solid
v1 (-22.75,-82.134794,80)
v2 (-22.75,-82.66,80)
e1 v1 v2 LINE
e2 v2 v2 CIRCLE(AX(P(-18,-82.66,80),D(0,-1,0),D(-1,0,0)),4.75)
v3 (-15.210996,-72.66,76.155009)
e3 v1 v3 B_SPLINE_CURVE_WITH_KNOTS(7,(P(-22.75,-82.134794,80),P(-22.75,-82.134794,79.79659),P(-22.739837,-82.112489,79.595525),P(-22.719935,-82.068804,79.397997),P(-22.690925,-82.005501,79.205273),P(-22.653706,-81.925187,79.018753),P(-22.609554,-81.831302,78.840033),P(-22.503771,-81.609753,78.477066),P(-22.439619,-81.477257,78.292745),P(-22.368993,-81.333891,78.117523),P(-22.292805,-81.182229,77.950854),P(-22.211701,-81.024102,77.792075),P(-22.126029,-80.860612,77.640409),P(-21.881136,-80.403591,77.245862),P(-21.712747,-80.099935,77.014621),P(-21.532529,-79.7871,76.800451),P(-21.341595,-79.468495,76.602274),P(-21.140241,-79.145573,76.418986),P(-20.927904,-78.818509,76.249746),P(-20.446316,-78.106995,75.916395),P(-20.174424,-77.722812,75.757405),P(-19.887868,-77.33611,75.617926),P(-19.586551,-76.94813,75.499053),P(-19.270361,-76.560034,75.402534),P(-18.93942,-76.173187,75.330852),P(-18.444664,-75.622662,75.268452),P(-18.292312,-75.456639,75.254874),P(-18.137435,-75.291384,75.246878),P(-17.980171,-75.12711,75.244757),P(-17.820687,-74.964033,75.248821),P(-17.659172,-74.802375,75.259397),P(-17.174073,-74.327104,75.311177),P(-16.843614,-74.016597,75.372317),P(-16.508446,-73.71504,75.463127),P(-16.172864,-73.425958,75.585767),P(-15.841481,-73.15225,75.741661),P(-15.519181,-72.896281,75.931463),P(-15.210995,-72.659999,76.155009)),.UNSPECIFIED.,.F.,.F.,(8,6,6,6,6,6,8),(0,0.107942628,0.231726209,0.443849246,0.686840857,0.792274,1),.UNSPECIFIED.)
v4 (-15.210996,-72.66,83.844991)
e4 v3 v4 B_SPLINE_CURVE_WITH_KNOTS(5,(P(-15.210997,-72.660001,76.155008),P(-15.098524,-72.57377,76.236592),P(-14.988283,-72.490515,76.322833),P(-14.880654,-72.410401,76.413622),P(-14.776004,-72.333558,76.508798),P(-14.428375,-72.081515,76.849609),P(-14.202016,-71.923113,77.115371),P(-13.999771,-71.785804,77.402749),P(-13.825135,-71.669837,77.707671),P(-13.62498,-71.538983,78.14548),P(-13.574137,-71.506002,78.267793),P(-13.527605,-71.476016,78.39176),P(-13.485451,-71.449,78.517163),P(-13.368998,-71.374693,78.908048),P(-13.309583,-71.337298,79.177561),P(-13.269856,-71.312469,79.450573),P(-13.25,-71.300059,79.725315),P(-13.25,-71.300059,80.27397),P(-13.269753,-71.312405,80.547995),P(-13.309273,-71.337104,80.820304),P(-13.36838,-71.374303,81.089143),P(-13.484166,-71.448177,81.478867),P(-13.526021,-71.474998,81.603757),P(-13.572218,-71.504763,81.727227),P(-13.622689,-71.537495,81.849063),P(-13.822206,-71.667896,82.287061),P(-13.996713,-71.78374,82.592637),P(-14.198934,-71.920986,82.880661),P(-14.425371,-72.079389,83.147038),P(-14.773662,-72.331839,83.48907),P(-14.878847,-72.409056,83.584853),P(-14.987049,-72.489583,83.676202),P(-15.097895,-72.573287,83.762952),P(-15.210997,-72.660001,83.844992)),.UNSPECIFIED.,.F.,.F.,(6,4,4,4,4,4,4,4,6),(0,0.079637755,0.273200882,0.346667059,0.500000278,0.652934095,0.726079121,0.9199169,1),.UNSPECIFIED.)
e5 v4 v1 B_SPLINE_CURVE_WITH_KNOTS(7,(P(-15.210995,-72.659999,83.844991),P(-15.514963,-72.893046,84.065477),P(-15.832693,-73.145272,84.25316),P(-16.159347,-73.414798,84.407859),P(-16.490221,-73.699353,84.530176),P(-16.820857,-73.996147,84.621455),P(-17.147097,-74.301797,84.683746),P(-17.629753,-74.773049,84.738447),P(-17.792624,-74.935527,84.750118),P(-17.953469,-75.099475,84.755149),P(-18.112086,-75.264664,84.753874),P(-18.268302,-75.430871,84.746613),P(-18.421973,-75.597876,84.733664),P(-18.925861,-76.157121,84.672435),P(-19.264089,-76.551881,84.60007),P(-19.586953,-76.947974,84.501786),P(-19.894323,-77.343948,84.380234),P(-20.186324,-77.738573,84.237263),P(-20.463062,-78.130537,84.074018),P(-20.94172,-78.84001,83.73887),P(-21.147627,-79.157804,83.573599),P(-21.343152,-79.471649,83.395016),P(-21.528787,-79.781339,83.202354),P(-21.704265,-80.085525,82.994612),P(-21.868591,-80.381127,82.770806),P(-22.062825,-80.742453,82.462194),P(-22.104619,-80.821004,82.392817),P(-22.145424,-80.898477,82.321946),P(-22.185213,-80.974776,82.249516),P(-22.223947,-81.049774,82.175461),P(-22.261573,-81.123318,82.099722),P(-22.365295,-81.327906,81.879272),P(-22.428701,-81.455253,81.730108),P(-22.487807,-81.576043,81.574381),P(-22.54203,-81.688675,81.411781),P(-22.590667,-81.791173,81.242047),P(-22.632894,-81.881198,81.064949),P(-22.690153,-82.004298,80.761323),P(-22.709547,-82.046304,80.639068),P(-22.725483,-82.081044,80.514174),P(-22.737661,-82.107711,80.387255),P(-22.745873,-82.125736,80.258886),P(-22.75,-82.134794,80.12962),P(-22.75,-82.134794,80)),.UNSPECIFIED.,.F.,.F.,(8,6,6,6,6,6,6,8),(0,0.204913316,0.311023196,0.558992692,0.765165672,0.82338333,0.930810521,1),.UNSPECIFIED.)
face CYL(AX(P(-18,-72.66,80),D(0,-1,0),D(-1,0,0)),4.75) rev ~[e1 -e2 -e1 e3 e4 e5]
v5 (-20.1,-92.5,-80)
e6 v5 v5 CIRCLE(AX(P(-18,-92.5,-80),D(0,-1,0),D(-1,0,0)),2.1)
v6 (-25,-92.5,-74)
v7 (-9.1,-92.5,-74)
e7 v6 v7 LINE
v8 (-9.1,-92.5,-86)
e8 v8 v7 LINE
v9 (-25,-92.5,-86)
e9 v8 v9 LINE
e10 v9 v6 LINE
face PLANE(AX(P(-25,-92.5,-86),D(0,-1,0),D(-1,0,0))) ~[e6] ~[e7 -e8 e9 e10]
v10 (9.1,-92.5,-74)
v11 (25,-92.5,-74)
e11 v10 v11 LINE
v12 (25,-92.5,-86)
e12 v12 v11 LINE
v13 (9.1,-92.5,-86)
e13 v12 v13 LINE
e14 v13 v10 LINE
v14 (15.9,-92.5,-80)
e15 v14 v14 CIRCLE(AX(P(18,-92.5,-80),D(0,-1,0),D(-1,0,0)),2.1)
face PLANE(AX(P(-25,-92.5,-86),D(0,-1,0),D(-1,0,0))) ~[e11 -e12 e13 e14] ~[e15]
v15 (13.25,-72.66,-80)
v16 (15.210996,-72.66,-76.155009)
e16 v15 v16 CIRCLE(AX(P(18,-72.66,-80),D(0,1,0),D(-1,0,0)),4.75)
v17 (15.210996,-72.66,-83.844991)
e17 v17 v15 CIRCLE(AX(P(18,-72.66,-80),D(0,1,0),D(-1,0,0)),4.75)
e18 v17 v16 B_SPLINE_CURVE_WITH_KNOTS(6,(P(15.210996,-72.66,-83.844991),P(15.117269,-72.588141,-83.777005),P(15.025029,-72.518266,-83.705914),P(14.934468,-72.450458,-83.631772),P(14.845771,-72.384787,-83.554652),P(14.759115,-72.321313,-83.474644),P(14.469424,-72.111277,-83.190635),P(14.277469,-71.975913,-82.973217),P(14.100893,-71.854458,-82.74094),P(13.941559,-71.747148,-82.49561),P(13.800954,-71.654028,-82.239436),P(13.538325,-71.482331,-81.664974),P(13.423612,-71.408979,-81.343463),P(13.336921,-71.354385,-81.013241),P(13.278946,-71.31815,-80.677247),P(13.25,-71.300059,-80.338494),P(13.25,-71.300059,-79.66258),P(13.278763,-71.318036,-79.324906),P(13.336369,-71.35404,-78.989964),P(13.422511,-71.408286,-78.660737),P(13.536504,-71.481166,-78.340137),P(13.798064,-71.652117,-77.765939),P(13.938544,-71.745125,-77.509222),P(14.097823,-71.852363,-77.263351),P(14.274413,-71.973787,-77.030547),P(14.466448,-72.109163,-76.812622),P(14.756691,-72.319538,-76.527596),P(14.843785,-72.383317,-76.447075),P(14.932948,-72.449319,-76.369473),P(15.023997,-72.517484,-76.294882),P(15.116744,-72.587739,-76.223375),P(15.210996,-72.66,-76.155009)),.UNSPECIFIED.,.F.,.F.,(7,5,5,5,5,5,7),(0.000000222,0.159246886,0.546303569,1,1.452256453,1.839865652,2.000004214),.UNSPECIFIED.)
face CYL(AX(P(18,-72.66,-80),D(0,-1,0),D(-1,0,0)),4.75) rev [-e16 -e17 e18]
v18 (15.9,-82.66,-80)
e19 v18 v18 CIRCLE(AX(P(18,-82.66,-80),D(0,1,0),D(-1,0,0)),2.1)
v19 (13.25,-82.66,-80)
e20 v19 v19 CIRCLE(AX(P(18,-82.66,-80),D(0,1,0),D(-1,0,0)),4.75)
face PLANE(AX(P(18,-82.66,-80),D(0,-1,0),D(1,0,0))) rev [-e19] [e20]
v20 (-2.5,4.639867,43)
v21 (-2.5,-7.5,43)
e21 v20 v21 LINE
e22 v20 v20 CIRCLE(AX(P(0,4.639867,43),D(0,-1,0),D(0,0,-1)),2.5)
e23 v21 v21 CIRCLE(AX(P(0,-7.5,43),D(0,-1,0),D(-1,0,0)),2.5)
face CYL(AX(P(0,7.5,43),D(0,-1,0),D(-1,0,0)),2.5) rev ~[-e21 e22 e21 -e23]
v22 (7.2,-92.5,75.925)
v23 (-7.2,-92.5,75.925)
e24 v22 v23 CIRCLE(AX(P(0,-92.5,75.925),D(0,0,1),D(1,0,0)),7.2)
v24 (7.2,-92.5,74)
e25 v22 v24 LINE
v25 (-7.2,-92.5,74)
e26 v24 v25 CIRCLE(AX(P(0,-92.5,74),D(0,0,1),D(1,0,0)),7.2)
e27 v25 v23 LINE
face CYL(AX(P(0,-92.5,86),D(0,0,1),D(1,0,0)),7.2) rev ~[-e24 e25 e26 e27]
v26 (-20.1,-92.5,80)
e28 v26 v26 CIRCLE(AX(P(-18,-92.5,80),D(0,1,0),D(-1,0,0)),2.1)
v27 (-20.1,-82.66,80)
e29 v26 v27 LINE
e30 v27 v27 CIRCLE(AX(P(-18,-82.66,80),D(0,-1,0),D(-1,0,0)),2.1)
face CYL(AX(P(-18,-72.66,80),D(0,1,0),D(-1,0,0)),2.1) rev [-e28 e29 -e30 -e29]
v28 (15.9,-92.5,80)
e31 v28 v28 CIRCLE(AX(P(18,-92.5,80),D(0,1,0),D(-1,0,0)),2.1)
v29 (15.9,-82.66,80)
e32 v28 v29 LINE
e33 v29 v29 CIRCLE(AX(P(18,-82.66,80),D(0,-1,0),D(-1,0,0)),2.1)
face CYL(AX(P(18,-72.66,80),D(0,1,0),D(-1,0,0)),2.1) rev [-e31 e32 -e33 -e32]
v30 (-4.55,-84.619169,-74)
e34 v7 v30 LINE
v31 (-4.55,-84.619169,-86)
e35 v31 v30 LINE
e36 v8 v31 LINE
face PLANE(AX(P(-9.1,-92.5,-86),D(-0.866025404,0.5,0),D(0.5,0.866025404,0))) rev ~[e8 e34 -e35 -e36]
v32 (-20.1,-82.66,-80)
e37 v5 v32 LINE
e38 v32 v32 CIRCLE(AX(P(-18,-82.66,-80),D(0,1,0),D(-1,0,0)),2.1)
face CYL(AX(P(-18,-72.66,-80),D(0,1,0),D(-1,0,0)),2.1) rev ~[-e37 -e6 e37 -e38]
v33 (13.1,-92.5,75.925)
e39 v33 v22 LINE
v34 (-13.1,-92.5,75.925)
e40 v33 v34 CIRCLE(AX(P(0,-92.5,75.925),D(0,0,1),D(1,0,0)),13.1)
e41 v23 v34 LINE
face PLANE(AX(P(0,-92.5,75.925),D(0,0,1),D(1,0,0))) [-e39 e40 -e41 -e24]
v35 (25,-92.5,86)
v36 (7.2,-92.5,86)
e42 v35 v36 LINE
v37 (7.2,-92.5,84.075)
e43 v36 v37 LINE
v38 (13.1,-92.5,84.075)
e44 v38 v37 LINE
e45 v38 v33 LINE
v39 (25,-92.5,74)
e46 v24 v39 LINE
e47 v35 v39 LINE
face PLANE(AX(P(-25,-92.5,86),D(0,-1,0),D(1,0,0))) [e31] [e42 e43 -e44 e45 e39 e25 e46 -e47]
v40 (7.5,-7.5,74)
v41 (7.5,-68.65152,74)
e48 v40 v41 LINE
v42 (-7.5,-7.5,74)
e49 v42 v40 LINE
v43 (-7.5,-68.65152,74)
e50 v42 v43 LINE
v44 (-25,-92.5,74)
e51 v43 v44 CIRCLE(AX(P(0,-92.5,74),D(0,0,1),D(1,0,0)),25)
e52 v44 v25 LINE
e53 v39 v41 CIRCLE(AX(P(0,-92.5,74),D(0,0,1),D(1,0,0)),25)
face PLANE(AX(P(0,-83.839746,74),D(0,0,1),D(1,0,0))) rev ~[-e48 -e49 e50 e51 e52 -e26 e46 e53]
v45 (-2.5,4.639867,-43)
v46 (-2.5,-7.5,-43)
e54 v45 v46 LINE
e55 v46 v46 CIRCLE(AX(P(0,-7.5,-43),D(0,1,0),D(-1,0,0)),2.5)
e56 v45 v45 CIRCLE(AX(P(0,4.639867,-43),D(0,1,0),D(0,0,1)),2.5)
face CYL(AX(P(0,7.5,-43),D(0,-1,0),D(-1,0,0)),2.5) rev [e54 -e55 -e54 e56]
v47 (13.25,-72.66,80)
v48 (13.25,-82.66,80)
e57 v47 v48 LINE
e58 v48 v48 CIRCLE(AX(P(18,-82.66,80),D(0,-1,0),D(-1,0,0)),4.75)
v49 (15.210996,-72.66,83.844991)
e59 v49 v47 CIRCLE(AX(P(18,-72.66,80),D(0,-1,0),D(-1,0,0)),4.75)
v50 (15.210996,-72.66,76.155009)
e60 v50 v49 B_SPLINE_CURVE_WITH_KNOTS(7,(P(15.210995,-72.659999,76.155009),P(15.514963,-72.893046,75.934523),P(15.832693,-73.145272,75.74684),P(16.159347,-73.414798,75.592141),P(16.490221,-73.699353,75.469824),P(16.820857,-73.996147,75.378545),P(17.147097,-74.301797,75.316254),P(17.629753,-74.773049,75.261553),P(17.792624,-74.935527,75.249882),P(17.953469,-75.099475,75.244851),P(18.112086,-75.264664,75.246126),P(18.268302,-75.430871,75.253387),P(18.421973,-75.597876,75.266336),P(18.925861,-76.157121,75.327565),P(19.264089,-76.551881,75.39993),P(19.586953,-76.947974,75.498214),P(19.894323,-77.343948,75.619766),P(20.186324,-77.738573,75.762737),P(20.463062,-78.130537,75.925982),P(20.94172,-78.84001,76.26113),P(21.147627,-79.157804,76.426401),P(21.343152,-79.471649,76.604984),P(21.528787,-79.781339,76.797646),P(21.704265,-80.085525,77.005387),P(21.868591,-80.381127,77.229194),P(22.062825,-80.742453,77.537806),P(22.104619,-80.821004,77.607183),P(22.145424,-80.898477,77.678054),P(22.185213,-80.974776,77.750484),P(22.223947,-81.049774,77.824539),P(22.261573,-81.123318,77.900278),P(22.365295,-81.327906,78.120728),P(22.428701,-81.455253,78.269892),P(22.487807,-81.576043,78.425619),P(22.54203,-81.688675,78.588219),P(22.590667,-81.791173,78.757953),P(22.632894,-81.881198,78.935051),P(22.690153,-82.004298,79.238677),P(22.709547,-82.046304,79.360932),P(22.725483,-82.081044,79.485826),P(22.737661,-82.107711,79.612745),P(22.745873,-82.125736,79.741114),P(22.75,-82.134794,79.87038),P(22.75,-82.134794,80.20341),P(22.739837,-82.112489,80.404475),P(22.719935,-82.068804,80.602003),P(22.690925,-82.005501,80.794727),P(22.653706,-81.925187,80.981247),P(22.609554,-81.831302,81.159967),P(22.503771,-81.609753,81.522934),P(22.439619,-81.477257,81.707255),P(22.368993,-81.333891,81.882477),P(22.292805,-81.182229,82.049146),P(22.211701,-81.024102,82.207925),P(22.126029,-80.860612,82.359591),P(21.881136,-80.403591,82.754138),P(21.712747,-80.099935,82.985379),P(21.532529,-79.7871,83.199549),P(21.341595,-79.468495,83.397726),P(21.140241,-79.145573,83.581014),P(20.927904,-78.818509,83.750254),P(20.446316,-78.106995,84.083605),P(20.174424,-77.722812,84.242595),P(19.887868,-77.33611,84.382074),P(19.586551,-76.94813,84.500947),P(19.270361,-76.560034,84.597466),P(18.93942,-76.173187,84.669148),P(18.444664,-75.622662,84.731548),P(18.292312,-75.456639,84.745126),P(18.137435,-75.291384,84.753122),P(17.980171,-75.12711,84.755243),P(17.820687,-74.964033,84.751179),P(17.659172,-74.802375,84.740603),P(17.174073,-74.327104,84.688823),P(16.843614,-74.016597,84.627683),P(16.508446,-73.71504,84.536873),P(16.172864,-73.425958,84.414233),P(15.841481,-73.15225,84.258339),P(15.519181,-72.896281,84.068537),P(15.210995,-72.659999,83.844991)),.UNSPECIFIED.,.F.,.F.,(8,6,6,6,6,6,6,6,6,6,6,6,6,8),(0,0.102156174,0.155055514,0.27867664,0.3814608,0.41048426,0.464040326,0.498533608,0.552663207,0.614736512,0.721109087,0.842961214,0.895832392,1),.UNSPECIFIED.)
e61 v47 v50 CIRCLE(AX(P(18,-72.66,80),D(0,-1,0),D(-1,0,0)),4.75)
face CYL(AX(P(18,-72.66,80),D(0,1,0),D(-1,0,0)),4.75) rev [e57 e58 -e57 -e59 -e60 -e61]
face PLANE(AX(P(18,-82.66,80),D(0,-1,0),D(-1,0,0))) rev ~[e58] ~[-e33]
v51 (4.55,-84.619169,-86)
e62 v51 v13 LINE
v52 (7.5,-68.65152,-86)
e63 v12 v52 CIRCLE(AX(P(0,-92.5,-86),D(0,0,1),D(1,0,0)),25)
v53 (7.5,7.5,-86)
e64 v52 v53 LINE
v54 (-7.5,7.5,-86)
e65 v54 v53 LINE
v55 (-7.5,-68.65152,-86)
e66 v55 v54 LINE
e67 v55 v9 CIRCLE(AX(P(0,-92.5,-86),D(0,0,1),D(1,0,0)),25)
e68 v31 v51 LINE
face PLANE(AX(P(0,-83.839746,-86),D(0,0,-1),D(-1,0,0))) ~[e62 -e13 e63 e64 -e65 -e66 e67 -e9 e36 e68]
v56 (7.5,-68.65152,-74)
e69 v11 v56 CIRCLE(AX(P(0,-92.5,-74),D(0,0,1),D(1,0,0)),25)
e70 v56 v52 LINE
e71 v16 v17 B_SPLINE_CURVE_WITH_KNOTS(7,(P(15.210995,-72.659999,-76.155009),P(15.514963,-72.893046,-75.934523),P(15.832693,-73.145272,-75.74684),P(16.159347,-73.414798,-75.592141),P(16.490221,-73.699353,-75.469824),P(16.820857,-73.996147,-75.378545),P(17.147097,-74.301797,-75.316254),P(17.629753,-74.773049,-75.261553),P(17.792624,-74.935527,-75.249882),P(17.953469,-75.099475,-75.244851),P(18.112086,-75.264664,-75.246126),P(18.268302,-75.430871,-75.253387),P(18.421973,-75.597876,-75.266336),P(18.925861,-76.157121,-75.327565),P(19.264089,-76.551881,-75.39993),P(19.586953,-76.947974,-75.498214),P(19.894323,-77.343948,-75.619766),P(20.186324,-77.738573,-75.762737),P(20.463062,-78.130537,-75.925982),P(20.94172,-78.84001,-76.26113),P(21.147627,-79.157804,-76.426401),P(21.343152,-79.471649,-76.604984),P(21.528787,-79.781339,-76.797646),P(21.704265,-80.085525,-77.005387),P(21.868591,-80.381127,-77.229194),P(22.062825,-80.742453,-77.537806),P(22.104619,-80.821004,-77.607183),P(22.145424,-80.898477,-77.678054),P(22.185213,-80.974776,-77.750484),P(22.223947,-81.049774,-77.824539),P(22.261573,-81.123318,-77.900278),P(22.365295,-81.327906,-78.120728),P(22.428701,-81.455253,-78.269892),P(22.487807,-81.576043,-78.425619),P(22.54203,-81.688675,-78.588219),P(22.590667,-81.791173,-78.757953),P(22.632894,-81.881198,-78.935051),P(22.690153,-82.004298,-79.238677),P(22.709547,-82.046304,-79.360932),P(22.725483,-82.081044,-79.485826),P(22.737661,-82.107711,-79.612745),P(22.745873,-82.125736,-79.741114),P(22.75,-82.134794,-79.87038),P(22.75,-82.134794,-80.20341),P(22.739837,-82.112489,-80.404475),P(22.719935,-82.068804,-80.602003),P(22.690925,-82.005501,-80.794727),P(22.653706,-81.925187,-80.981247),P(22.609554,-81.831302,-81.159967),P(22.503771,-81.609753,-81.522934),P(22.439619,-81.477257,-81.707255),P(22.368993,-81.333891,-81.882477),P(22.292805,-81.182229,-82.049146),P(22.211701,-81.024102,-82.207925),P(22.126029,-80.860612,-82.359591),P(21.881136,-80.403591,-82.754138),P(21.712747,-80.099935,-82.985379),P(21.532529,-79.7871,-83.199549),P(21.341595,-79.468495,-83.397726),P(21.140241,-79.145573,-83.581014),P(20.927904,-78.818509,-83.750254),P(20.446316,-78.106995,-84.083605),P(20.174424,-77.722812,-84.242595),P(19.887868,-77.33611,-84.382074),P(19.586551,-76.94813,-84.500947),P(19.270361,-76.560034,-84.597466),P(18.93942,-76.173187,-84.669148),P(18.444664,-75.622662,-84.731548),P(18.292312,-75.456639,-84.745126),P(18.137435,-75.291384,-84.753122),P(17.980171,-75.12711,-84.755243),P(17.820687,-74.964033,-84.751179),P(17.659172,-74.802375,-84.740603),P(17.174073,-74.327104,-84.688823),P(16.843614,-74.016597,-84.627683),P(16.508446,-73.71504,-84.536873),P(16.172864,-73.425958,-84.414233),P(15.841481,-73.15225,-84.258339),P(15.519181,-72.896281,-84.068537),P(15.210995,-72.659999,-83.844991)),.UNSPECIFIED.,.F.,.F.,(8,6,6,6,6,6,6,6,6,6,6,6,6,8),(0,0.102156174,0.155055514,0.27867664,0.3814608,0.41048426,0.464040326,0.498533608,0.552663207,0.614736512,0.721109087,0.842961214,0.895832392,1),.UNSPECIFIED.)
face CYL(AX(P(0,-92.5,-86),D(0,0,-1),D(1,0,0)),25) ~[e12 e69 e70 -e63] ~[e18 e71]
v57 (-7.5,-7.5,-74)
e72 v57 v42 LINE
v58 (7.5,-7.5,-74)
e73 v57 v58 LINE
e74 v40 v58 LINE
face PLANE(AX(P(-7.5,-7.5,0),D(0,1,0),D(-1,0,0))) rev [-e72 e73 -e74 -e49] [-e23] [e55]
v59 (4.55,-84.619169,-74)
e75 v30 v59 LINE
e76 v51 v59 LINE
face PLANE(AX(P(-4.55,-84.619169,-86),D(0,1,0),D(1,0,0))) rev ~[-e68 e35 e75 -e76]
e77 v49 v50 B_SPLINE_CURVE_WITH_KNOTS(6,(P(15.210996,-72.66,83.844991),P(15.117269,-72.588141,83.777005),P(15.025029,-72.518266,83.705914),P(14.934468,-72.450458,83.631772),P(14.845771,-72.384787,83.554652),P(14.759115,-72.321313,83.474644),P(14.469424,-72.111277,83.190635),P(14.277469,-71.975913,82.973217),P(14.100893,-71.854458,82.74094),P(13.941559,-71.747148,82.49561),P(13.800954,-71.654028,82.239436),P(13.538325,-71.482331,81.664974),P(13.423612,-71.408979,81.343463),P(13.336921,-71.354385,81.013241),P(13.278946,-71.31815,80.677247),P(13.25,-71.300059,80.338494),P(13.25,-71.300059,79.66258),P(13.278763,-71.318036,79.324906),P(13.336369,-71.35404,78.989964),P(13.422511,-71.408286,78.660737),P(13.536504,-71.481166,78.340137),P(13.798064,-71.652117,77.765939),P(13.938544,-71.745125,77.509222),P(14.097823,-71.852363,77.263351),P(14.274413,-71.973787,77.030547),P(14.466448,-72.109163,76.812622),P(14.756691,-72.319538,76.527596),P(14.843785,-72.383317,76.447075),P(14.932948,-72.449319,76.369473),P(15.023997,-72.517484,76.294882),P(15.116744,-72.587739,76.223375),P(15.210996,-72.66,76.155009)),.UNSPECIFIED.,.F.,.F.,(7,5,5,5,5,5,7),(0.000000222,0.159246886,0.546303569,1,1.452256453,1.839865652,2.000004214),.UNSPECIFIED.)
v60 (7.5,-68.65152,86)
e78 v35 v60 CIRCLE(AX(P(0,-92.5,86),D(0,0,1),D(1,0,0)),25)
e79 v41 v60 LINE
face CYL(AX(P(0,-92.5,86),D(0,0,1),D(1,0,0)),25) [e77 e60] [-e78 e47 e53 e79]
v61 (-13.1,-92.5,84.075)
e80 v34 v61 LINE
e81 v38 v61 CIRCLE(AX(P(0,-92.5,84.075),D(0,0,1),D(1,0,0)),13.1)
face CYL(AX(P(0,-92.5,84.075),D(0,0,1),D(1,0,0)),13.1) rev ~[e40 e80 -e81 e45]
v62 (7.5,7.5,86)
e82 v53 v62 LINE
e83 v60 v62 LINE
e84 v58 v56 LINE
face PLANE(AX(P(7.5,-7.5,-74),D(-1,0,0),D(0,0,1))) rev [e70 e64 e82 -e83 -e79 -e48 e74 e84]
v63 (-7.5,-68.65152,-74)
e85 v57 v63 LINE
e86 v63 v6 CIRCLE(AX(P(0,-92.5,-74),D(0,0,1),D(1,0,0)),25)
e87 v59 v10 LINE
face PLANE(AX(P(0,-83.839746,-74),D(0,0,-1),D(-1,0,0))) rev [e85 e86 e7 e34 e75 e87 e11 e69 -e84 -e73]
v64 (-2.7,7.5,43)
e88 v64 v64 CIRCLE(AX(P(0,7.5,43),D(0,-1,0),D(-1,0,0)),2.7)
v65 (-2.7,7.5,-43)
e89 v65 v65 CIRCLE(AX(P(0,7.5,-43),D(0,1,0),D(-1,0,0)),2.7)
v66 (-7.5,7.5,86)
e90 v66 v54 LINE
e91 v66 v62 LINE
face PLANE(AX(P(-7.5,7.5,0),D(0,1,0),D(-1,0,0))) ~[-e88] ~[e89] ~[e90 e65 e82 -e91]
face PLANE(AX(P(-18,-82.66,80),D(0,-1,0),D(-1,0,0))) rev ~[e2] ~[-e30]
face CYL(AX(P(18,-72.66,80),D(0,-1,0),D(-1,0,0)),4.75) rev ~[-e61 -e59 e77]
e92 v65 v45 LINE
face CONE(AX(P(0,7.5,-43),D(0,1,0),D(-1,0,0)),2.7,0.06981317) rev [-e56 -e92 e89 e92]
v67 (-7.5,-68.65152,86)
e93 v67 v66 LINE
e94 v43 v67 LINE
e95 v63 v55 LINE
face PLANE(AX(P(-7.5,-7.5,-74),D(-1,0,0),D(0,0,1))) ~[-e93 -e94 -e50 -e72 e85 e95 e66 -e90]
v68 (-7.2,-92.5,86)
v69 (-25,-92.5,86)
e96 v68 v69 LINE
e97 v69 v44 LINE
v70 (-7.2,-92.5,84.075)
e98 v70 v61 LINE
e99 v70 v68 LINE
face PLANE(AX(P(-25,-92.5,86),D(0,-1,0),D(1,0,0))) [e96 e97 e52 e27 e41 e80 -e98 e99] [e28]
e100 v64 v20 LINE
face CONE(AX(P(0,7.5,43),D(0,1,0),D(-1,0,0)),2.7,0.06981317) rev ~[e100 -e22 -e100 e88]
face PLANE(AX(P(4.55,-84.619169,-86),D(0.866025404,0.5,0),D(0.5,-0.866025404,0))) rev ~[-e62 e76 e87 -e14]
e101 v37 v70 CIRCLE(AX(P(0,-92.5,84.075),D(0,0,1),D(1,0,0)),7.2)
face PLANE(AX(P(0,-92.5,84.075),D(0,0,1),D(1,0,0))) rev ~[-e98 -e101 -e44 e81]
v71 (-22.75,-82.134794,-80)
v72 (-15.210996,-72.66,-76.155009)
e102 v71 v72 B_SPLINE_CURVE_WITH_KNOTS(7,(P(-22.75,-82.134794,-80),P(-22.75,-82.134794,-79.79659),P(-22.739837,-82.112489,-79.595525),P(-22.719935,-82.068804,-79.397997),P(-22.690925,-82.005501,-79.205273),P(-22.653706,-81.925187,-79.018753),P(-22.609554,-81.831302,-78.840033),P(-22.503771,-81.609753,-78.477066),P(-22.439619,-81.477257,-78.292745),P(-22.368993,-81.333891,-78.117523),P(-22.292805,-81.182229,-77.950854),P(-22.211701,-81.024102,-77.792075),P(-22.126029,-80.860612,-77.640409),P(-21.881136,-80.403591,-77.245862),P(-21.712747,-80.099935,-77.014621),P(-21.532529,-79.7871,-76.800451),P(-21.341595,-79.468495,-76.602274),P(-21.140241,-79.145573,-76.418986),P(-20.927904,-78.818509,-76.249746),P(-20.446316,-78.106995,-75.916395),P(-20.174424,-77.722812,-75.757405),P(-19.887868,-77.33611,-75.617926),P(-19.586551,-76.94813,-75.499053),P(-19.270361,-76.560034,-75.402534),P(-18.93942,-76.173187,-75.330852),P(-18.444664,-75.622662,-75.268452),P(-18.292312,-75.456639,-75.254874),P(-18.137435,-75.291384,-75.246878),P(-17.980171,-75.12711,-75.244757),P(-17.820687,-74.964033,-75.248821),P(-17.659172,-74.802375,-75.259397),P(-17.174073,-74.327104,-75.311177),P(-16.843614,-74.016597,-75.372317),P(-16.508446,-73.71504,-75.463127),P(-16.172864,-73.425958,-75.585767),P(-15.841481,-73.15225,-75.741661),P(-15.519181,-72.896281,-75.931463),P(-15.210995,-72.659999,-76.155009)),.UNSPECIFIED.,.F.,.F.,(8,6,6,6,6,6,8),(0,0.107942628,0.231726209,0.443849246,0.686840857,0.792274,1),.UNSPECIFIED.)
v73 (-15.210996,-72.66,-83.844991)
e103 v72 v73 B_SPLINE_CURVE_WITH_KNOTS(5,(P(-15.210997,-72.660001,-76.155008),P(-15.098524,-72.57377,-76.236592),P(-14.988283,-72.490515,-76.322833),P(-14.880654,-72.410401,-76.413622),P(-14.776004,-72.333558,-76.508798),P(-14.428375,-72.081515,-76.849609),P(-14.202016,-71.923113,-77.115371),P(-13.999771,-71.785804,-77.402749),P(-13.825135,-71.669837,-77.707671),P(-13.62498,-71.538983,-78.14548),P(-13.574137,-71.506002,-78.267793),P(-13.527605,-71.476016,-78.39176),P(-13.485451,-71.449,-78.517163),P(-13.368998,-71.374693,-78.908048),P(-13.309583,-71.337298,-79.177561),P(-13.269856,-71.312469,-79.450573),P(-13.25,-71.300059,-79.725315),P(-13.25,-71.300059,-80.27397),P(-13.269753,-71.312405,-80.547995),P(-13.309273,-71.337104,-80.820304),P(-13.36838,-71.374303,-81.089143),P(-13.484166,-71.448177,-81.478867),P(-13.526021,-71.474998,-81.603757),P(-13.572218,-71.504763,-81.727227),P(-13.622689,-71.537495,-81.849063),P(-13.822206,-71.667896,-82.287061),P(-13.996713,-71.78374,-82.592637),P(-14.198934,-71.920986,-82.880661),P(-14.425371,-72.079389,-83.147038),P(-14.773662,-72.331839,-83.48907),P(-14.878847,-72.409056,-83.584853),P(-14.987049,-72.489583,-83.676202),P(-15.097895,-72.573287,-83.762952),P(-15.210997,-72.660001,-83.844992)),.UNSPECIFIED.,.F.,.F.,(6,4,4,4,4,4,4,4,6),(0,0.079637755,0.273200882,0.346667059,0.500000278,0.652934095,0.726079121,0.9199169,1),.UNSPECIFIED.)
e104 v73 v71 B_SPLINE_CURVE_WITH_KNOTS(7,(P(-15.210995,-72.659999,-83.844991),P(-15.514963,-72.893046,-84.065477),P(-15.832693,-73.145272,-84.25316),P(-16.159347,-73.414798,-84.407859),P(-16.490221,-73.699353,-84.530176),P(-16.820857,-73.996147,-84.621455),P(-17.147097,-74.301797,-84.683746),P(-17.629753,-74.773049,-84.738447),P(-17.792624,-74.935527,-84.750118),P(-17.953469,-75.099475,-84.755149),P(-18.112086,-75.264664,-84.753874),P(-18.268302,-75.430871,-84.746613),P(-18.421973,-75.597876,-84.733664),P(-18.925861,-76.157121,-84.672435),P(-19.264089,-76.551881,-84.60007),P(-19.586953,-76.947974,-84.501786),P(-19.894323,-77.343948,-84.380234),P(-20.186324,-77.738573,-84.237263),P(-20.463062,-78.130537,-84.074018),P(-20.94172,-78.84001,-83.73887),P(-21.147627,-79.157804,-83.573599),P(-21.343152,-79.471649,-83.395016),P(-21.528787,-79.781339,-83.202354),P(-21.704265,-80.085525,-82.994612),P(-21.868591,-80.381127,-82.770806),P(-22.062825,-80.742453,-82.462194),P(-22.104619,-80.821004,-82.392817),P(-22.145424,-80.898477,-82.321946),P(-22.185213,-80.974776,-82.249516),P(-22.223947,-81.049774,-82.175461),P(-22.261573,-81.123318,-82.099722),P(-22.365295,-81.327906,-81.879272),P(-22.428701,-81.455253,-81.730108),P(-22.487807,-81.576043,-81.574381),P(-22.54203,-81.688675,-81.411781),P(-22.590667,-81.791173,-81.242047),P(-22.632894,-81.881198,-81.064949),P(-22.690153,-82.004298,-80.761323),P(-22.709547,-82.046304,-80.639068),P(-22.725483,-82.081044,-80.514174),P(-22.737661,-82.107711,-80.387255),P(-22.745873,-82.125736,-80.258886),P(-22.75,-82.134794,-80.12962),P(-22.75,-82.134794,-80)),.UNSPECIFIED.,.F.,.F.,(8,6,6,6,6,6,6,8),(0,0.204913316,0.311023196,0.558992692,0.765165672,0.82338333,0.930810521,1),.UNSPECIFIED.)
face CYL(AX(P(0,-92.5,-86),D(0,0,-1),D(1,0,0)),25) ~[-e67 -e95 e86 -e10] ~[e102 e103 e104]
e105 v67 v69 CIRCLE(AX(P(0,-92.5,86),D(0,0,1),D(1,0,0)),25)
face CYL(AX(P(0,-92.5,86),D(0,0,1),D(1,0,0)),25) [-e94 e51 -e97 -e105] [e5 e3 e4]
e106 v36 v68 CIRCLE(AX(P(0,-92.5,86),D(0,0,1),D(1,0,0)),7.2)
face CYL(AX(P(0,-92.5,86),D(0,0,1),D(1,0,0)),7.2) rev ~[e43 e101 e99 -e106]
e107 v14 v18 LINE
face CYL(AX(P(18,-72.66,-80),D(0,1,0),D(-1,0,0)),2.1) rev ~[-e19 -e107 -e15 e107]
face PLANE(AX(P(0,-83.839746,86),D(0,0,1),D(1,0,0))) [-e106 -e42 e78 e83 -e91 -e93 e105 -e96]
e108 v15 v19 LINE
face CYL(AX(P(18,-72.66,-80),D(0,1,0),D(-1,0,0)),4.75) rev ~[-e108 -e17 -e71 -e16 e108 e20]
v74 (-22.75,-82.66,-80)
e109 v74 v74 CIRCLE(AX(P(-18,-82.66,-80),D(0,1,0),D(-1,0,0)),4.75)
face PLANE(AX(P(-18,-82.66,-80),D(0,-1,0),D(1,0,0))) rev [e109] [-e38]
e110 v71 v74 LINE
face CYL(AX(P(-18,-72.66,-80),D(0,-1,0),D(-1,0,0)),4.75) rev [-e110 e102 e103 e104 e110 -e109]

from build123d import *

# Parameters (mm, degrees)
SKETCH2_W                                       = 15
SKETCH2_H                                       = 15
BOSS_EXTRUDE1_DEPTH                             = 86
SKETCH3_W                                       = 15
SKETCH3_H                                       = 12
BOSS_EXTRUDE2_DEPTH                             = 85
BOSS_EXTRUDE3_DEPTH                             = 12
SKETCH6_R                                       = 4.75
SKETCH6_R_2                                     = 2.1
CUT_EXTRUDE1_DEPTH                              = 10
CUT_EXTRUDE1_DIRECTION_2_REACH                  = 82.16
CUT_EXTRUDE2_REACH                              = 21.84
SKETCH6_2_R                                     = 2.1
CSK_FOR_M3_OVAL_HEAD_MACHINE_SCREW1_D           = 5
CSK_FOR_M3_OVAL_HEAD_MACHINE_SCREW1_CSINK_D     = 5.4
CSK_FOR_M3_OVAL_HEAD_MACHINE_SCREW1_CSINK_ANGLE = 8
CUT_EXTRUDE4_REACH                              = 174
SKETCH8_R                                       = 7.2
CUT_EXTRUDE5_START                              = -1.925
SKETCH9_R                                       = 13.1
CUT_EXTRUDE5_DEPTH                              = 8.15
CUT_EXTRUDE6_REACH                              = 174


with BuildPart() as part:
    # Sketch2 → Boss-Extrude1 (new body)
    with BuildSketch(Plane.XY):
        Rectangle(SKETCH2_W, SKETCH2_H)
    extrude(amount=BOSS_EXTRUDE1_DEPTH)

    # Sketch3 → Boss-Extrude2 (add)
    with BuildSketch(Plane.XZ.offset(7.5)):
        with Locations((0, 80)):
            Rectangle(SKETCH3_W, SKETCH3_H)
    extrude(amount=BOSS_EXTRUDE2_DEPTH)

    # Sketch4 → Boss-Extrude3 (add)
    with BuildSketch(Plane.XY.offset(86)):
        with BuildLine():
            Line((-25, -92.5), (25, -92.5))
            ThreePointArc((25, -92.5), (0, -67.5), (-25, -92.5))
        make_face()
    extrude(amount=-BOSS_EXTRUDE3_DEPTH)

    # Sketch6 → Cut-Extrude1 (cut)
    with BuildSketch(Plane(origin=(0, -72.66, 0), x_dir=(-1, 0, 0), z_dir=(0, -1, 0))):
        with Locations((-18, -80)):
            Circle(SKETCH6_R)
        with Locations((-18, -80)):
            Circle(SKETCH6_R_2, mode=Mode.SUBTRACT)
        with Locations((18, -80)):
            Circle(SKETCH6_R)
        with Locations((18, -80)):
            Circle(SKETCH6_R_2, mode=Mode.SUBTRACT)
    extrude(amount=CUT_EXTRUDE1_DEPTH, mode=Mode.SUBTRACT)

    # Sketch6 → Cut-Extrude1 direction 2 (cut, up to next)
    with BuildSketch(Plane(origin=(0, -72.66, 0), x_dir=(-1, 0, 0), z_dir=(0, -1, 0)), mode=Mode.PRIVATE) as cut_extrude1_direction_2_sk1:
        with Locations((-18, -80)):
            Circle(SKETCH6_R)
        with Locations((-18, -80)):
            Circle(SKETCH6_R_2, mode=Mode.SUBTRACT)
    cut_extrude1_direction_2_tool1 = extrude(cut_extrude1_direction_2_sk1.sketch, amount=-CUT_EXTRUDE1_DIRECTION_2_REACH, mode=Mode.PRIVATE) & part.part
    add(cut_extrude1_direction_2_tool1.solids().sort_by_distance((22.61565, -72.66, 80))[0], mode=Mode.SUBTRACT)
    # Sketch6 → Cut-Extrude1 direction 2 (cut, up to next)
    with BuildSketch(Plane(origin=(0, -72.66, 0), x_dir=(-1, 0, 0), z_dir=(0, -1, 0)), mode=Mode.PRIVATE) as cut_extrude1_direction_2_sk2:
        with Locations((18, -80)):
            Circle(SKETCH6_R)
        with Locations((18, -80)):
            Circle(SKETCH6_R_2, mode=Mode.SUBTRACT)
    cut_extrude1_direction_2_tool2 = extrude(cut_extrude1_direction_2_sk2.sketch, amount=-CUT_EXTRUDE1_DIRECTION_2_REACH, mode=Mode.PRIVATE) & part.part
    add(cut_extrude1_direction_2_tool2.solids().sort_by_distance((-13.38435, -72.66, 80))[0], mode=Mode.SUBTRACT)

    # Sketch6<2> → Cut-Extrude2 (cut, up to next)
    with BuildSketch(Plane(origin=(0, -72.66, 0), x_dir=(-1, 0, 0), z_dir=(0, -1, 0)), mode=Mode.PRIVATE) as cut_extrude2_sk1:
        with Locations((-18, -80)):
            Circle(SKETCH6_2_R)
    cut_extrude2_tool1 = extrude(cut_extrude2_sk1.sketch, amount=CUT_EXTRUDE2_REACH, mode=Mode.PRIVATE) & part.part
    add(cut_extrude2_tool1.solids().sort_by_distance((18, -72.66, 80))[0], mode=Mode.SUBTRACT)
    # Sketch6<2> → Cut-Extrude2 (cut, up to next)
    with BuildSketch(Plane(origin=(0, -72.66, 0), x_dir=(-1, 0, 0), z_dir=(0, -1, 0)), mode=Mode.PRIVATE) as cut_extrude2_sk2:
        with Locations((18, -80)):
            Circle(SKETCH6_2_R)
    cut_extrude2_tool2 = extrude(cut_extrude2_sk2.sketch, amount=CUT_EXTRUDE2_REACH, mode=Mode.PRIVATE) & part.part
    add(cut_extrude2_tool2.solids().sort_by_distance((-18, -72.66, 80))[0], mode=Mode.SUBTRACT)

    # CSK for M3 Oval Head Machine Screw1 (through all)
    with Locations(Plane(origin=(0, 7.5, 0), x_dir=(1, 0, 0), z_dir=(0, 1, 0))):
        with Locations((0, -43)):
            CounterSinkHole(CSK_FOR_M3_OVAL_HEAD_MACHINE_SCREW1_D / 2, CSK_FOR_M3_OVAL_HEAD_MACHINE_SCREW1_CSINK_D / 2, counter_sink_angle=CSK_FOR_M3_OVAL_HEAD_MACHINE_SCREW1_CSINK_ANGLE)

    # Mirror1: part across plane


with BuildPart() as part_1:
    add(part.part)
    add(part.part.mirror(Plane.XY))

    # Sketch8 → Cut-Extrude4 (cut, up to next)
    with BuildSketch(Plane.XY.offset(86), mode=Mode.PRIVATE) as cut_extrude4_sk1:
        with Locations((0, -92.5)):
            Circle(SKETCH8_R)
    cut_extrude4_tool1 = extrude(cut_extrude4_sk1.sketch, amount=-CUT_EXTRUDE4_REACH, mode=Mode.PRIVATE) & part_1.part
    add(cut_extrude4_tool1.solids().sort_by_distance((0, -92.5, 86))[0], mode=Mode.SUBTRACT)

    # Sketch9 → Cut-Extrude5 (cut)
    with BuildSketch(Plane.XY.offset(86).offset(CUT_EXTRUDE5_START)):
        with Locations((0, -92.5)):
            Circle(SKETCH9_R)
    extrude(amount=-CUT_EXTRUDE5_DEPTH, mode=Mode.SUBTRACT)

    # Sketch10 → Cut-Extrude6 (cut, up to next)
    with BuildSketch(Plane(origin=(0, 0, -86), x_dir=(-1, 0, 0), z_dir=(0, 0, -1)), mode=Mode.PRIVATE) as cut_extrude6_sk1:
        Polygon((9.1, -92.5), (4.55, -84.619168826), (-4.55, -84.619168826), (-9.1, -92.5), (-4.55, -100.380831174), (4.55, -100.380831174), align=None)
    cut_extrude6_tool1 = extrude(cut_extrude6_sk1.sketch, amount=-CUT_EXTRUDE6_REACH, mode=Mode.PRIVATE) & part_1.part
    add(cut_extrude6_tool1.solids().sort_by_distance((0, -92.5, -86))[0], mode=Mode.SUBTRACT)


solid = part_1.part
